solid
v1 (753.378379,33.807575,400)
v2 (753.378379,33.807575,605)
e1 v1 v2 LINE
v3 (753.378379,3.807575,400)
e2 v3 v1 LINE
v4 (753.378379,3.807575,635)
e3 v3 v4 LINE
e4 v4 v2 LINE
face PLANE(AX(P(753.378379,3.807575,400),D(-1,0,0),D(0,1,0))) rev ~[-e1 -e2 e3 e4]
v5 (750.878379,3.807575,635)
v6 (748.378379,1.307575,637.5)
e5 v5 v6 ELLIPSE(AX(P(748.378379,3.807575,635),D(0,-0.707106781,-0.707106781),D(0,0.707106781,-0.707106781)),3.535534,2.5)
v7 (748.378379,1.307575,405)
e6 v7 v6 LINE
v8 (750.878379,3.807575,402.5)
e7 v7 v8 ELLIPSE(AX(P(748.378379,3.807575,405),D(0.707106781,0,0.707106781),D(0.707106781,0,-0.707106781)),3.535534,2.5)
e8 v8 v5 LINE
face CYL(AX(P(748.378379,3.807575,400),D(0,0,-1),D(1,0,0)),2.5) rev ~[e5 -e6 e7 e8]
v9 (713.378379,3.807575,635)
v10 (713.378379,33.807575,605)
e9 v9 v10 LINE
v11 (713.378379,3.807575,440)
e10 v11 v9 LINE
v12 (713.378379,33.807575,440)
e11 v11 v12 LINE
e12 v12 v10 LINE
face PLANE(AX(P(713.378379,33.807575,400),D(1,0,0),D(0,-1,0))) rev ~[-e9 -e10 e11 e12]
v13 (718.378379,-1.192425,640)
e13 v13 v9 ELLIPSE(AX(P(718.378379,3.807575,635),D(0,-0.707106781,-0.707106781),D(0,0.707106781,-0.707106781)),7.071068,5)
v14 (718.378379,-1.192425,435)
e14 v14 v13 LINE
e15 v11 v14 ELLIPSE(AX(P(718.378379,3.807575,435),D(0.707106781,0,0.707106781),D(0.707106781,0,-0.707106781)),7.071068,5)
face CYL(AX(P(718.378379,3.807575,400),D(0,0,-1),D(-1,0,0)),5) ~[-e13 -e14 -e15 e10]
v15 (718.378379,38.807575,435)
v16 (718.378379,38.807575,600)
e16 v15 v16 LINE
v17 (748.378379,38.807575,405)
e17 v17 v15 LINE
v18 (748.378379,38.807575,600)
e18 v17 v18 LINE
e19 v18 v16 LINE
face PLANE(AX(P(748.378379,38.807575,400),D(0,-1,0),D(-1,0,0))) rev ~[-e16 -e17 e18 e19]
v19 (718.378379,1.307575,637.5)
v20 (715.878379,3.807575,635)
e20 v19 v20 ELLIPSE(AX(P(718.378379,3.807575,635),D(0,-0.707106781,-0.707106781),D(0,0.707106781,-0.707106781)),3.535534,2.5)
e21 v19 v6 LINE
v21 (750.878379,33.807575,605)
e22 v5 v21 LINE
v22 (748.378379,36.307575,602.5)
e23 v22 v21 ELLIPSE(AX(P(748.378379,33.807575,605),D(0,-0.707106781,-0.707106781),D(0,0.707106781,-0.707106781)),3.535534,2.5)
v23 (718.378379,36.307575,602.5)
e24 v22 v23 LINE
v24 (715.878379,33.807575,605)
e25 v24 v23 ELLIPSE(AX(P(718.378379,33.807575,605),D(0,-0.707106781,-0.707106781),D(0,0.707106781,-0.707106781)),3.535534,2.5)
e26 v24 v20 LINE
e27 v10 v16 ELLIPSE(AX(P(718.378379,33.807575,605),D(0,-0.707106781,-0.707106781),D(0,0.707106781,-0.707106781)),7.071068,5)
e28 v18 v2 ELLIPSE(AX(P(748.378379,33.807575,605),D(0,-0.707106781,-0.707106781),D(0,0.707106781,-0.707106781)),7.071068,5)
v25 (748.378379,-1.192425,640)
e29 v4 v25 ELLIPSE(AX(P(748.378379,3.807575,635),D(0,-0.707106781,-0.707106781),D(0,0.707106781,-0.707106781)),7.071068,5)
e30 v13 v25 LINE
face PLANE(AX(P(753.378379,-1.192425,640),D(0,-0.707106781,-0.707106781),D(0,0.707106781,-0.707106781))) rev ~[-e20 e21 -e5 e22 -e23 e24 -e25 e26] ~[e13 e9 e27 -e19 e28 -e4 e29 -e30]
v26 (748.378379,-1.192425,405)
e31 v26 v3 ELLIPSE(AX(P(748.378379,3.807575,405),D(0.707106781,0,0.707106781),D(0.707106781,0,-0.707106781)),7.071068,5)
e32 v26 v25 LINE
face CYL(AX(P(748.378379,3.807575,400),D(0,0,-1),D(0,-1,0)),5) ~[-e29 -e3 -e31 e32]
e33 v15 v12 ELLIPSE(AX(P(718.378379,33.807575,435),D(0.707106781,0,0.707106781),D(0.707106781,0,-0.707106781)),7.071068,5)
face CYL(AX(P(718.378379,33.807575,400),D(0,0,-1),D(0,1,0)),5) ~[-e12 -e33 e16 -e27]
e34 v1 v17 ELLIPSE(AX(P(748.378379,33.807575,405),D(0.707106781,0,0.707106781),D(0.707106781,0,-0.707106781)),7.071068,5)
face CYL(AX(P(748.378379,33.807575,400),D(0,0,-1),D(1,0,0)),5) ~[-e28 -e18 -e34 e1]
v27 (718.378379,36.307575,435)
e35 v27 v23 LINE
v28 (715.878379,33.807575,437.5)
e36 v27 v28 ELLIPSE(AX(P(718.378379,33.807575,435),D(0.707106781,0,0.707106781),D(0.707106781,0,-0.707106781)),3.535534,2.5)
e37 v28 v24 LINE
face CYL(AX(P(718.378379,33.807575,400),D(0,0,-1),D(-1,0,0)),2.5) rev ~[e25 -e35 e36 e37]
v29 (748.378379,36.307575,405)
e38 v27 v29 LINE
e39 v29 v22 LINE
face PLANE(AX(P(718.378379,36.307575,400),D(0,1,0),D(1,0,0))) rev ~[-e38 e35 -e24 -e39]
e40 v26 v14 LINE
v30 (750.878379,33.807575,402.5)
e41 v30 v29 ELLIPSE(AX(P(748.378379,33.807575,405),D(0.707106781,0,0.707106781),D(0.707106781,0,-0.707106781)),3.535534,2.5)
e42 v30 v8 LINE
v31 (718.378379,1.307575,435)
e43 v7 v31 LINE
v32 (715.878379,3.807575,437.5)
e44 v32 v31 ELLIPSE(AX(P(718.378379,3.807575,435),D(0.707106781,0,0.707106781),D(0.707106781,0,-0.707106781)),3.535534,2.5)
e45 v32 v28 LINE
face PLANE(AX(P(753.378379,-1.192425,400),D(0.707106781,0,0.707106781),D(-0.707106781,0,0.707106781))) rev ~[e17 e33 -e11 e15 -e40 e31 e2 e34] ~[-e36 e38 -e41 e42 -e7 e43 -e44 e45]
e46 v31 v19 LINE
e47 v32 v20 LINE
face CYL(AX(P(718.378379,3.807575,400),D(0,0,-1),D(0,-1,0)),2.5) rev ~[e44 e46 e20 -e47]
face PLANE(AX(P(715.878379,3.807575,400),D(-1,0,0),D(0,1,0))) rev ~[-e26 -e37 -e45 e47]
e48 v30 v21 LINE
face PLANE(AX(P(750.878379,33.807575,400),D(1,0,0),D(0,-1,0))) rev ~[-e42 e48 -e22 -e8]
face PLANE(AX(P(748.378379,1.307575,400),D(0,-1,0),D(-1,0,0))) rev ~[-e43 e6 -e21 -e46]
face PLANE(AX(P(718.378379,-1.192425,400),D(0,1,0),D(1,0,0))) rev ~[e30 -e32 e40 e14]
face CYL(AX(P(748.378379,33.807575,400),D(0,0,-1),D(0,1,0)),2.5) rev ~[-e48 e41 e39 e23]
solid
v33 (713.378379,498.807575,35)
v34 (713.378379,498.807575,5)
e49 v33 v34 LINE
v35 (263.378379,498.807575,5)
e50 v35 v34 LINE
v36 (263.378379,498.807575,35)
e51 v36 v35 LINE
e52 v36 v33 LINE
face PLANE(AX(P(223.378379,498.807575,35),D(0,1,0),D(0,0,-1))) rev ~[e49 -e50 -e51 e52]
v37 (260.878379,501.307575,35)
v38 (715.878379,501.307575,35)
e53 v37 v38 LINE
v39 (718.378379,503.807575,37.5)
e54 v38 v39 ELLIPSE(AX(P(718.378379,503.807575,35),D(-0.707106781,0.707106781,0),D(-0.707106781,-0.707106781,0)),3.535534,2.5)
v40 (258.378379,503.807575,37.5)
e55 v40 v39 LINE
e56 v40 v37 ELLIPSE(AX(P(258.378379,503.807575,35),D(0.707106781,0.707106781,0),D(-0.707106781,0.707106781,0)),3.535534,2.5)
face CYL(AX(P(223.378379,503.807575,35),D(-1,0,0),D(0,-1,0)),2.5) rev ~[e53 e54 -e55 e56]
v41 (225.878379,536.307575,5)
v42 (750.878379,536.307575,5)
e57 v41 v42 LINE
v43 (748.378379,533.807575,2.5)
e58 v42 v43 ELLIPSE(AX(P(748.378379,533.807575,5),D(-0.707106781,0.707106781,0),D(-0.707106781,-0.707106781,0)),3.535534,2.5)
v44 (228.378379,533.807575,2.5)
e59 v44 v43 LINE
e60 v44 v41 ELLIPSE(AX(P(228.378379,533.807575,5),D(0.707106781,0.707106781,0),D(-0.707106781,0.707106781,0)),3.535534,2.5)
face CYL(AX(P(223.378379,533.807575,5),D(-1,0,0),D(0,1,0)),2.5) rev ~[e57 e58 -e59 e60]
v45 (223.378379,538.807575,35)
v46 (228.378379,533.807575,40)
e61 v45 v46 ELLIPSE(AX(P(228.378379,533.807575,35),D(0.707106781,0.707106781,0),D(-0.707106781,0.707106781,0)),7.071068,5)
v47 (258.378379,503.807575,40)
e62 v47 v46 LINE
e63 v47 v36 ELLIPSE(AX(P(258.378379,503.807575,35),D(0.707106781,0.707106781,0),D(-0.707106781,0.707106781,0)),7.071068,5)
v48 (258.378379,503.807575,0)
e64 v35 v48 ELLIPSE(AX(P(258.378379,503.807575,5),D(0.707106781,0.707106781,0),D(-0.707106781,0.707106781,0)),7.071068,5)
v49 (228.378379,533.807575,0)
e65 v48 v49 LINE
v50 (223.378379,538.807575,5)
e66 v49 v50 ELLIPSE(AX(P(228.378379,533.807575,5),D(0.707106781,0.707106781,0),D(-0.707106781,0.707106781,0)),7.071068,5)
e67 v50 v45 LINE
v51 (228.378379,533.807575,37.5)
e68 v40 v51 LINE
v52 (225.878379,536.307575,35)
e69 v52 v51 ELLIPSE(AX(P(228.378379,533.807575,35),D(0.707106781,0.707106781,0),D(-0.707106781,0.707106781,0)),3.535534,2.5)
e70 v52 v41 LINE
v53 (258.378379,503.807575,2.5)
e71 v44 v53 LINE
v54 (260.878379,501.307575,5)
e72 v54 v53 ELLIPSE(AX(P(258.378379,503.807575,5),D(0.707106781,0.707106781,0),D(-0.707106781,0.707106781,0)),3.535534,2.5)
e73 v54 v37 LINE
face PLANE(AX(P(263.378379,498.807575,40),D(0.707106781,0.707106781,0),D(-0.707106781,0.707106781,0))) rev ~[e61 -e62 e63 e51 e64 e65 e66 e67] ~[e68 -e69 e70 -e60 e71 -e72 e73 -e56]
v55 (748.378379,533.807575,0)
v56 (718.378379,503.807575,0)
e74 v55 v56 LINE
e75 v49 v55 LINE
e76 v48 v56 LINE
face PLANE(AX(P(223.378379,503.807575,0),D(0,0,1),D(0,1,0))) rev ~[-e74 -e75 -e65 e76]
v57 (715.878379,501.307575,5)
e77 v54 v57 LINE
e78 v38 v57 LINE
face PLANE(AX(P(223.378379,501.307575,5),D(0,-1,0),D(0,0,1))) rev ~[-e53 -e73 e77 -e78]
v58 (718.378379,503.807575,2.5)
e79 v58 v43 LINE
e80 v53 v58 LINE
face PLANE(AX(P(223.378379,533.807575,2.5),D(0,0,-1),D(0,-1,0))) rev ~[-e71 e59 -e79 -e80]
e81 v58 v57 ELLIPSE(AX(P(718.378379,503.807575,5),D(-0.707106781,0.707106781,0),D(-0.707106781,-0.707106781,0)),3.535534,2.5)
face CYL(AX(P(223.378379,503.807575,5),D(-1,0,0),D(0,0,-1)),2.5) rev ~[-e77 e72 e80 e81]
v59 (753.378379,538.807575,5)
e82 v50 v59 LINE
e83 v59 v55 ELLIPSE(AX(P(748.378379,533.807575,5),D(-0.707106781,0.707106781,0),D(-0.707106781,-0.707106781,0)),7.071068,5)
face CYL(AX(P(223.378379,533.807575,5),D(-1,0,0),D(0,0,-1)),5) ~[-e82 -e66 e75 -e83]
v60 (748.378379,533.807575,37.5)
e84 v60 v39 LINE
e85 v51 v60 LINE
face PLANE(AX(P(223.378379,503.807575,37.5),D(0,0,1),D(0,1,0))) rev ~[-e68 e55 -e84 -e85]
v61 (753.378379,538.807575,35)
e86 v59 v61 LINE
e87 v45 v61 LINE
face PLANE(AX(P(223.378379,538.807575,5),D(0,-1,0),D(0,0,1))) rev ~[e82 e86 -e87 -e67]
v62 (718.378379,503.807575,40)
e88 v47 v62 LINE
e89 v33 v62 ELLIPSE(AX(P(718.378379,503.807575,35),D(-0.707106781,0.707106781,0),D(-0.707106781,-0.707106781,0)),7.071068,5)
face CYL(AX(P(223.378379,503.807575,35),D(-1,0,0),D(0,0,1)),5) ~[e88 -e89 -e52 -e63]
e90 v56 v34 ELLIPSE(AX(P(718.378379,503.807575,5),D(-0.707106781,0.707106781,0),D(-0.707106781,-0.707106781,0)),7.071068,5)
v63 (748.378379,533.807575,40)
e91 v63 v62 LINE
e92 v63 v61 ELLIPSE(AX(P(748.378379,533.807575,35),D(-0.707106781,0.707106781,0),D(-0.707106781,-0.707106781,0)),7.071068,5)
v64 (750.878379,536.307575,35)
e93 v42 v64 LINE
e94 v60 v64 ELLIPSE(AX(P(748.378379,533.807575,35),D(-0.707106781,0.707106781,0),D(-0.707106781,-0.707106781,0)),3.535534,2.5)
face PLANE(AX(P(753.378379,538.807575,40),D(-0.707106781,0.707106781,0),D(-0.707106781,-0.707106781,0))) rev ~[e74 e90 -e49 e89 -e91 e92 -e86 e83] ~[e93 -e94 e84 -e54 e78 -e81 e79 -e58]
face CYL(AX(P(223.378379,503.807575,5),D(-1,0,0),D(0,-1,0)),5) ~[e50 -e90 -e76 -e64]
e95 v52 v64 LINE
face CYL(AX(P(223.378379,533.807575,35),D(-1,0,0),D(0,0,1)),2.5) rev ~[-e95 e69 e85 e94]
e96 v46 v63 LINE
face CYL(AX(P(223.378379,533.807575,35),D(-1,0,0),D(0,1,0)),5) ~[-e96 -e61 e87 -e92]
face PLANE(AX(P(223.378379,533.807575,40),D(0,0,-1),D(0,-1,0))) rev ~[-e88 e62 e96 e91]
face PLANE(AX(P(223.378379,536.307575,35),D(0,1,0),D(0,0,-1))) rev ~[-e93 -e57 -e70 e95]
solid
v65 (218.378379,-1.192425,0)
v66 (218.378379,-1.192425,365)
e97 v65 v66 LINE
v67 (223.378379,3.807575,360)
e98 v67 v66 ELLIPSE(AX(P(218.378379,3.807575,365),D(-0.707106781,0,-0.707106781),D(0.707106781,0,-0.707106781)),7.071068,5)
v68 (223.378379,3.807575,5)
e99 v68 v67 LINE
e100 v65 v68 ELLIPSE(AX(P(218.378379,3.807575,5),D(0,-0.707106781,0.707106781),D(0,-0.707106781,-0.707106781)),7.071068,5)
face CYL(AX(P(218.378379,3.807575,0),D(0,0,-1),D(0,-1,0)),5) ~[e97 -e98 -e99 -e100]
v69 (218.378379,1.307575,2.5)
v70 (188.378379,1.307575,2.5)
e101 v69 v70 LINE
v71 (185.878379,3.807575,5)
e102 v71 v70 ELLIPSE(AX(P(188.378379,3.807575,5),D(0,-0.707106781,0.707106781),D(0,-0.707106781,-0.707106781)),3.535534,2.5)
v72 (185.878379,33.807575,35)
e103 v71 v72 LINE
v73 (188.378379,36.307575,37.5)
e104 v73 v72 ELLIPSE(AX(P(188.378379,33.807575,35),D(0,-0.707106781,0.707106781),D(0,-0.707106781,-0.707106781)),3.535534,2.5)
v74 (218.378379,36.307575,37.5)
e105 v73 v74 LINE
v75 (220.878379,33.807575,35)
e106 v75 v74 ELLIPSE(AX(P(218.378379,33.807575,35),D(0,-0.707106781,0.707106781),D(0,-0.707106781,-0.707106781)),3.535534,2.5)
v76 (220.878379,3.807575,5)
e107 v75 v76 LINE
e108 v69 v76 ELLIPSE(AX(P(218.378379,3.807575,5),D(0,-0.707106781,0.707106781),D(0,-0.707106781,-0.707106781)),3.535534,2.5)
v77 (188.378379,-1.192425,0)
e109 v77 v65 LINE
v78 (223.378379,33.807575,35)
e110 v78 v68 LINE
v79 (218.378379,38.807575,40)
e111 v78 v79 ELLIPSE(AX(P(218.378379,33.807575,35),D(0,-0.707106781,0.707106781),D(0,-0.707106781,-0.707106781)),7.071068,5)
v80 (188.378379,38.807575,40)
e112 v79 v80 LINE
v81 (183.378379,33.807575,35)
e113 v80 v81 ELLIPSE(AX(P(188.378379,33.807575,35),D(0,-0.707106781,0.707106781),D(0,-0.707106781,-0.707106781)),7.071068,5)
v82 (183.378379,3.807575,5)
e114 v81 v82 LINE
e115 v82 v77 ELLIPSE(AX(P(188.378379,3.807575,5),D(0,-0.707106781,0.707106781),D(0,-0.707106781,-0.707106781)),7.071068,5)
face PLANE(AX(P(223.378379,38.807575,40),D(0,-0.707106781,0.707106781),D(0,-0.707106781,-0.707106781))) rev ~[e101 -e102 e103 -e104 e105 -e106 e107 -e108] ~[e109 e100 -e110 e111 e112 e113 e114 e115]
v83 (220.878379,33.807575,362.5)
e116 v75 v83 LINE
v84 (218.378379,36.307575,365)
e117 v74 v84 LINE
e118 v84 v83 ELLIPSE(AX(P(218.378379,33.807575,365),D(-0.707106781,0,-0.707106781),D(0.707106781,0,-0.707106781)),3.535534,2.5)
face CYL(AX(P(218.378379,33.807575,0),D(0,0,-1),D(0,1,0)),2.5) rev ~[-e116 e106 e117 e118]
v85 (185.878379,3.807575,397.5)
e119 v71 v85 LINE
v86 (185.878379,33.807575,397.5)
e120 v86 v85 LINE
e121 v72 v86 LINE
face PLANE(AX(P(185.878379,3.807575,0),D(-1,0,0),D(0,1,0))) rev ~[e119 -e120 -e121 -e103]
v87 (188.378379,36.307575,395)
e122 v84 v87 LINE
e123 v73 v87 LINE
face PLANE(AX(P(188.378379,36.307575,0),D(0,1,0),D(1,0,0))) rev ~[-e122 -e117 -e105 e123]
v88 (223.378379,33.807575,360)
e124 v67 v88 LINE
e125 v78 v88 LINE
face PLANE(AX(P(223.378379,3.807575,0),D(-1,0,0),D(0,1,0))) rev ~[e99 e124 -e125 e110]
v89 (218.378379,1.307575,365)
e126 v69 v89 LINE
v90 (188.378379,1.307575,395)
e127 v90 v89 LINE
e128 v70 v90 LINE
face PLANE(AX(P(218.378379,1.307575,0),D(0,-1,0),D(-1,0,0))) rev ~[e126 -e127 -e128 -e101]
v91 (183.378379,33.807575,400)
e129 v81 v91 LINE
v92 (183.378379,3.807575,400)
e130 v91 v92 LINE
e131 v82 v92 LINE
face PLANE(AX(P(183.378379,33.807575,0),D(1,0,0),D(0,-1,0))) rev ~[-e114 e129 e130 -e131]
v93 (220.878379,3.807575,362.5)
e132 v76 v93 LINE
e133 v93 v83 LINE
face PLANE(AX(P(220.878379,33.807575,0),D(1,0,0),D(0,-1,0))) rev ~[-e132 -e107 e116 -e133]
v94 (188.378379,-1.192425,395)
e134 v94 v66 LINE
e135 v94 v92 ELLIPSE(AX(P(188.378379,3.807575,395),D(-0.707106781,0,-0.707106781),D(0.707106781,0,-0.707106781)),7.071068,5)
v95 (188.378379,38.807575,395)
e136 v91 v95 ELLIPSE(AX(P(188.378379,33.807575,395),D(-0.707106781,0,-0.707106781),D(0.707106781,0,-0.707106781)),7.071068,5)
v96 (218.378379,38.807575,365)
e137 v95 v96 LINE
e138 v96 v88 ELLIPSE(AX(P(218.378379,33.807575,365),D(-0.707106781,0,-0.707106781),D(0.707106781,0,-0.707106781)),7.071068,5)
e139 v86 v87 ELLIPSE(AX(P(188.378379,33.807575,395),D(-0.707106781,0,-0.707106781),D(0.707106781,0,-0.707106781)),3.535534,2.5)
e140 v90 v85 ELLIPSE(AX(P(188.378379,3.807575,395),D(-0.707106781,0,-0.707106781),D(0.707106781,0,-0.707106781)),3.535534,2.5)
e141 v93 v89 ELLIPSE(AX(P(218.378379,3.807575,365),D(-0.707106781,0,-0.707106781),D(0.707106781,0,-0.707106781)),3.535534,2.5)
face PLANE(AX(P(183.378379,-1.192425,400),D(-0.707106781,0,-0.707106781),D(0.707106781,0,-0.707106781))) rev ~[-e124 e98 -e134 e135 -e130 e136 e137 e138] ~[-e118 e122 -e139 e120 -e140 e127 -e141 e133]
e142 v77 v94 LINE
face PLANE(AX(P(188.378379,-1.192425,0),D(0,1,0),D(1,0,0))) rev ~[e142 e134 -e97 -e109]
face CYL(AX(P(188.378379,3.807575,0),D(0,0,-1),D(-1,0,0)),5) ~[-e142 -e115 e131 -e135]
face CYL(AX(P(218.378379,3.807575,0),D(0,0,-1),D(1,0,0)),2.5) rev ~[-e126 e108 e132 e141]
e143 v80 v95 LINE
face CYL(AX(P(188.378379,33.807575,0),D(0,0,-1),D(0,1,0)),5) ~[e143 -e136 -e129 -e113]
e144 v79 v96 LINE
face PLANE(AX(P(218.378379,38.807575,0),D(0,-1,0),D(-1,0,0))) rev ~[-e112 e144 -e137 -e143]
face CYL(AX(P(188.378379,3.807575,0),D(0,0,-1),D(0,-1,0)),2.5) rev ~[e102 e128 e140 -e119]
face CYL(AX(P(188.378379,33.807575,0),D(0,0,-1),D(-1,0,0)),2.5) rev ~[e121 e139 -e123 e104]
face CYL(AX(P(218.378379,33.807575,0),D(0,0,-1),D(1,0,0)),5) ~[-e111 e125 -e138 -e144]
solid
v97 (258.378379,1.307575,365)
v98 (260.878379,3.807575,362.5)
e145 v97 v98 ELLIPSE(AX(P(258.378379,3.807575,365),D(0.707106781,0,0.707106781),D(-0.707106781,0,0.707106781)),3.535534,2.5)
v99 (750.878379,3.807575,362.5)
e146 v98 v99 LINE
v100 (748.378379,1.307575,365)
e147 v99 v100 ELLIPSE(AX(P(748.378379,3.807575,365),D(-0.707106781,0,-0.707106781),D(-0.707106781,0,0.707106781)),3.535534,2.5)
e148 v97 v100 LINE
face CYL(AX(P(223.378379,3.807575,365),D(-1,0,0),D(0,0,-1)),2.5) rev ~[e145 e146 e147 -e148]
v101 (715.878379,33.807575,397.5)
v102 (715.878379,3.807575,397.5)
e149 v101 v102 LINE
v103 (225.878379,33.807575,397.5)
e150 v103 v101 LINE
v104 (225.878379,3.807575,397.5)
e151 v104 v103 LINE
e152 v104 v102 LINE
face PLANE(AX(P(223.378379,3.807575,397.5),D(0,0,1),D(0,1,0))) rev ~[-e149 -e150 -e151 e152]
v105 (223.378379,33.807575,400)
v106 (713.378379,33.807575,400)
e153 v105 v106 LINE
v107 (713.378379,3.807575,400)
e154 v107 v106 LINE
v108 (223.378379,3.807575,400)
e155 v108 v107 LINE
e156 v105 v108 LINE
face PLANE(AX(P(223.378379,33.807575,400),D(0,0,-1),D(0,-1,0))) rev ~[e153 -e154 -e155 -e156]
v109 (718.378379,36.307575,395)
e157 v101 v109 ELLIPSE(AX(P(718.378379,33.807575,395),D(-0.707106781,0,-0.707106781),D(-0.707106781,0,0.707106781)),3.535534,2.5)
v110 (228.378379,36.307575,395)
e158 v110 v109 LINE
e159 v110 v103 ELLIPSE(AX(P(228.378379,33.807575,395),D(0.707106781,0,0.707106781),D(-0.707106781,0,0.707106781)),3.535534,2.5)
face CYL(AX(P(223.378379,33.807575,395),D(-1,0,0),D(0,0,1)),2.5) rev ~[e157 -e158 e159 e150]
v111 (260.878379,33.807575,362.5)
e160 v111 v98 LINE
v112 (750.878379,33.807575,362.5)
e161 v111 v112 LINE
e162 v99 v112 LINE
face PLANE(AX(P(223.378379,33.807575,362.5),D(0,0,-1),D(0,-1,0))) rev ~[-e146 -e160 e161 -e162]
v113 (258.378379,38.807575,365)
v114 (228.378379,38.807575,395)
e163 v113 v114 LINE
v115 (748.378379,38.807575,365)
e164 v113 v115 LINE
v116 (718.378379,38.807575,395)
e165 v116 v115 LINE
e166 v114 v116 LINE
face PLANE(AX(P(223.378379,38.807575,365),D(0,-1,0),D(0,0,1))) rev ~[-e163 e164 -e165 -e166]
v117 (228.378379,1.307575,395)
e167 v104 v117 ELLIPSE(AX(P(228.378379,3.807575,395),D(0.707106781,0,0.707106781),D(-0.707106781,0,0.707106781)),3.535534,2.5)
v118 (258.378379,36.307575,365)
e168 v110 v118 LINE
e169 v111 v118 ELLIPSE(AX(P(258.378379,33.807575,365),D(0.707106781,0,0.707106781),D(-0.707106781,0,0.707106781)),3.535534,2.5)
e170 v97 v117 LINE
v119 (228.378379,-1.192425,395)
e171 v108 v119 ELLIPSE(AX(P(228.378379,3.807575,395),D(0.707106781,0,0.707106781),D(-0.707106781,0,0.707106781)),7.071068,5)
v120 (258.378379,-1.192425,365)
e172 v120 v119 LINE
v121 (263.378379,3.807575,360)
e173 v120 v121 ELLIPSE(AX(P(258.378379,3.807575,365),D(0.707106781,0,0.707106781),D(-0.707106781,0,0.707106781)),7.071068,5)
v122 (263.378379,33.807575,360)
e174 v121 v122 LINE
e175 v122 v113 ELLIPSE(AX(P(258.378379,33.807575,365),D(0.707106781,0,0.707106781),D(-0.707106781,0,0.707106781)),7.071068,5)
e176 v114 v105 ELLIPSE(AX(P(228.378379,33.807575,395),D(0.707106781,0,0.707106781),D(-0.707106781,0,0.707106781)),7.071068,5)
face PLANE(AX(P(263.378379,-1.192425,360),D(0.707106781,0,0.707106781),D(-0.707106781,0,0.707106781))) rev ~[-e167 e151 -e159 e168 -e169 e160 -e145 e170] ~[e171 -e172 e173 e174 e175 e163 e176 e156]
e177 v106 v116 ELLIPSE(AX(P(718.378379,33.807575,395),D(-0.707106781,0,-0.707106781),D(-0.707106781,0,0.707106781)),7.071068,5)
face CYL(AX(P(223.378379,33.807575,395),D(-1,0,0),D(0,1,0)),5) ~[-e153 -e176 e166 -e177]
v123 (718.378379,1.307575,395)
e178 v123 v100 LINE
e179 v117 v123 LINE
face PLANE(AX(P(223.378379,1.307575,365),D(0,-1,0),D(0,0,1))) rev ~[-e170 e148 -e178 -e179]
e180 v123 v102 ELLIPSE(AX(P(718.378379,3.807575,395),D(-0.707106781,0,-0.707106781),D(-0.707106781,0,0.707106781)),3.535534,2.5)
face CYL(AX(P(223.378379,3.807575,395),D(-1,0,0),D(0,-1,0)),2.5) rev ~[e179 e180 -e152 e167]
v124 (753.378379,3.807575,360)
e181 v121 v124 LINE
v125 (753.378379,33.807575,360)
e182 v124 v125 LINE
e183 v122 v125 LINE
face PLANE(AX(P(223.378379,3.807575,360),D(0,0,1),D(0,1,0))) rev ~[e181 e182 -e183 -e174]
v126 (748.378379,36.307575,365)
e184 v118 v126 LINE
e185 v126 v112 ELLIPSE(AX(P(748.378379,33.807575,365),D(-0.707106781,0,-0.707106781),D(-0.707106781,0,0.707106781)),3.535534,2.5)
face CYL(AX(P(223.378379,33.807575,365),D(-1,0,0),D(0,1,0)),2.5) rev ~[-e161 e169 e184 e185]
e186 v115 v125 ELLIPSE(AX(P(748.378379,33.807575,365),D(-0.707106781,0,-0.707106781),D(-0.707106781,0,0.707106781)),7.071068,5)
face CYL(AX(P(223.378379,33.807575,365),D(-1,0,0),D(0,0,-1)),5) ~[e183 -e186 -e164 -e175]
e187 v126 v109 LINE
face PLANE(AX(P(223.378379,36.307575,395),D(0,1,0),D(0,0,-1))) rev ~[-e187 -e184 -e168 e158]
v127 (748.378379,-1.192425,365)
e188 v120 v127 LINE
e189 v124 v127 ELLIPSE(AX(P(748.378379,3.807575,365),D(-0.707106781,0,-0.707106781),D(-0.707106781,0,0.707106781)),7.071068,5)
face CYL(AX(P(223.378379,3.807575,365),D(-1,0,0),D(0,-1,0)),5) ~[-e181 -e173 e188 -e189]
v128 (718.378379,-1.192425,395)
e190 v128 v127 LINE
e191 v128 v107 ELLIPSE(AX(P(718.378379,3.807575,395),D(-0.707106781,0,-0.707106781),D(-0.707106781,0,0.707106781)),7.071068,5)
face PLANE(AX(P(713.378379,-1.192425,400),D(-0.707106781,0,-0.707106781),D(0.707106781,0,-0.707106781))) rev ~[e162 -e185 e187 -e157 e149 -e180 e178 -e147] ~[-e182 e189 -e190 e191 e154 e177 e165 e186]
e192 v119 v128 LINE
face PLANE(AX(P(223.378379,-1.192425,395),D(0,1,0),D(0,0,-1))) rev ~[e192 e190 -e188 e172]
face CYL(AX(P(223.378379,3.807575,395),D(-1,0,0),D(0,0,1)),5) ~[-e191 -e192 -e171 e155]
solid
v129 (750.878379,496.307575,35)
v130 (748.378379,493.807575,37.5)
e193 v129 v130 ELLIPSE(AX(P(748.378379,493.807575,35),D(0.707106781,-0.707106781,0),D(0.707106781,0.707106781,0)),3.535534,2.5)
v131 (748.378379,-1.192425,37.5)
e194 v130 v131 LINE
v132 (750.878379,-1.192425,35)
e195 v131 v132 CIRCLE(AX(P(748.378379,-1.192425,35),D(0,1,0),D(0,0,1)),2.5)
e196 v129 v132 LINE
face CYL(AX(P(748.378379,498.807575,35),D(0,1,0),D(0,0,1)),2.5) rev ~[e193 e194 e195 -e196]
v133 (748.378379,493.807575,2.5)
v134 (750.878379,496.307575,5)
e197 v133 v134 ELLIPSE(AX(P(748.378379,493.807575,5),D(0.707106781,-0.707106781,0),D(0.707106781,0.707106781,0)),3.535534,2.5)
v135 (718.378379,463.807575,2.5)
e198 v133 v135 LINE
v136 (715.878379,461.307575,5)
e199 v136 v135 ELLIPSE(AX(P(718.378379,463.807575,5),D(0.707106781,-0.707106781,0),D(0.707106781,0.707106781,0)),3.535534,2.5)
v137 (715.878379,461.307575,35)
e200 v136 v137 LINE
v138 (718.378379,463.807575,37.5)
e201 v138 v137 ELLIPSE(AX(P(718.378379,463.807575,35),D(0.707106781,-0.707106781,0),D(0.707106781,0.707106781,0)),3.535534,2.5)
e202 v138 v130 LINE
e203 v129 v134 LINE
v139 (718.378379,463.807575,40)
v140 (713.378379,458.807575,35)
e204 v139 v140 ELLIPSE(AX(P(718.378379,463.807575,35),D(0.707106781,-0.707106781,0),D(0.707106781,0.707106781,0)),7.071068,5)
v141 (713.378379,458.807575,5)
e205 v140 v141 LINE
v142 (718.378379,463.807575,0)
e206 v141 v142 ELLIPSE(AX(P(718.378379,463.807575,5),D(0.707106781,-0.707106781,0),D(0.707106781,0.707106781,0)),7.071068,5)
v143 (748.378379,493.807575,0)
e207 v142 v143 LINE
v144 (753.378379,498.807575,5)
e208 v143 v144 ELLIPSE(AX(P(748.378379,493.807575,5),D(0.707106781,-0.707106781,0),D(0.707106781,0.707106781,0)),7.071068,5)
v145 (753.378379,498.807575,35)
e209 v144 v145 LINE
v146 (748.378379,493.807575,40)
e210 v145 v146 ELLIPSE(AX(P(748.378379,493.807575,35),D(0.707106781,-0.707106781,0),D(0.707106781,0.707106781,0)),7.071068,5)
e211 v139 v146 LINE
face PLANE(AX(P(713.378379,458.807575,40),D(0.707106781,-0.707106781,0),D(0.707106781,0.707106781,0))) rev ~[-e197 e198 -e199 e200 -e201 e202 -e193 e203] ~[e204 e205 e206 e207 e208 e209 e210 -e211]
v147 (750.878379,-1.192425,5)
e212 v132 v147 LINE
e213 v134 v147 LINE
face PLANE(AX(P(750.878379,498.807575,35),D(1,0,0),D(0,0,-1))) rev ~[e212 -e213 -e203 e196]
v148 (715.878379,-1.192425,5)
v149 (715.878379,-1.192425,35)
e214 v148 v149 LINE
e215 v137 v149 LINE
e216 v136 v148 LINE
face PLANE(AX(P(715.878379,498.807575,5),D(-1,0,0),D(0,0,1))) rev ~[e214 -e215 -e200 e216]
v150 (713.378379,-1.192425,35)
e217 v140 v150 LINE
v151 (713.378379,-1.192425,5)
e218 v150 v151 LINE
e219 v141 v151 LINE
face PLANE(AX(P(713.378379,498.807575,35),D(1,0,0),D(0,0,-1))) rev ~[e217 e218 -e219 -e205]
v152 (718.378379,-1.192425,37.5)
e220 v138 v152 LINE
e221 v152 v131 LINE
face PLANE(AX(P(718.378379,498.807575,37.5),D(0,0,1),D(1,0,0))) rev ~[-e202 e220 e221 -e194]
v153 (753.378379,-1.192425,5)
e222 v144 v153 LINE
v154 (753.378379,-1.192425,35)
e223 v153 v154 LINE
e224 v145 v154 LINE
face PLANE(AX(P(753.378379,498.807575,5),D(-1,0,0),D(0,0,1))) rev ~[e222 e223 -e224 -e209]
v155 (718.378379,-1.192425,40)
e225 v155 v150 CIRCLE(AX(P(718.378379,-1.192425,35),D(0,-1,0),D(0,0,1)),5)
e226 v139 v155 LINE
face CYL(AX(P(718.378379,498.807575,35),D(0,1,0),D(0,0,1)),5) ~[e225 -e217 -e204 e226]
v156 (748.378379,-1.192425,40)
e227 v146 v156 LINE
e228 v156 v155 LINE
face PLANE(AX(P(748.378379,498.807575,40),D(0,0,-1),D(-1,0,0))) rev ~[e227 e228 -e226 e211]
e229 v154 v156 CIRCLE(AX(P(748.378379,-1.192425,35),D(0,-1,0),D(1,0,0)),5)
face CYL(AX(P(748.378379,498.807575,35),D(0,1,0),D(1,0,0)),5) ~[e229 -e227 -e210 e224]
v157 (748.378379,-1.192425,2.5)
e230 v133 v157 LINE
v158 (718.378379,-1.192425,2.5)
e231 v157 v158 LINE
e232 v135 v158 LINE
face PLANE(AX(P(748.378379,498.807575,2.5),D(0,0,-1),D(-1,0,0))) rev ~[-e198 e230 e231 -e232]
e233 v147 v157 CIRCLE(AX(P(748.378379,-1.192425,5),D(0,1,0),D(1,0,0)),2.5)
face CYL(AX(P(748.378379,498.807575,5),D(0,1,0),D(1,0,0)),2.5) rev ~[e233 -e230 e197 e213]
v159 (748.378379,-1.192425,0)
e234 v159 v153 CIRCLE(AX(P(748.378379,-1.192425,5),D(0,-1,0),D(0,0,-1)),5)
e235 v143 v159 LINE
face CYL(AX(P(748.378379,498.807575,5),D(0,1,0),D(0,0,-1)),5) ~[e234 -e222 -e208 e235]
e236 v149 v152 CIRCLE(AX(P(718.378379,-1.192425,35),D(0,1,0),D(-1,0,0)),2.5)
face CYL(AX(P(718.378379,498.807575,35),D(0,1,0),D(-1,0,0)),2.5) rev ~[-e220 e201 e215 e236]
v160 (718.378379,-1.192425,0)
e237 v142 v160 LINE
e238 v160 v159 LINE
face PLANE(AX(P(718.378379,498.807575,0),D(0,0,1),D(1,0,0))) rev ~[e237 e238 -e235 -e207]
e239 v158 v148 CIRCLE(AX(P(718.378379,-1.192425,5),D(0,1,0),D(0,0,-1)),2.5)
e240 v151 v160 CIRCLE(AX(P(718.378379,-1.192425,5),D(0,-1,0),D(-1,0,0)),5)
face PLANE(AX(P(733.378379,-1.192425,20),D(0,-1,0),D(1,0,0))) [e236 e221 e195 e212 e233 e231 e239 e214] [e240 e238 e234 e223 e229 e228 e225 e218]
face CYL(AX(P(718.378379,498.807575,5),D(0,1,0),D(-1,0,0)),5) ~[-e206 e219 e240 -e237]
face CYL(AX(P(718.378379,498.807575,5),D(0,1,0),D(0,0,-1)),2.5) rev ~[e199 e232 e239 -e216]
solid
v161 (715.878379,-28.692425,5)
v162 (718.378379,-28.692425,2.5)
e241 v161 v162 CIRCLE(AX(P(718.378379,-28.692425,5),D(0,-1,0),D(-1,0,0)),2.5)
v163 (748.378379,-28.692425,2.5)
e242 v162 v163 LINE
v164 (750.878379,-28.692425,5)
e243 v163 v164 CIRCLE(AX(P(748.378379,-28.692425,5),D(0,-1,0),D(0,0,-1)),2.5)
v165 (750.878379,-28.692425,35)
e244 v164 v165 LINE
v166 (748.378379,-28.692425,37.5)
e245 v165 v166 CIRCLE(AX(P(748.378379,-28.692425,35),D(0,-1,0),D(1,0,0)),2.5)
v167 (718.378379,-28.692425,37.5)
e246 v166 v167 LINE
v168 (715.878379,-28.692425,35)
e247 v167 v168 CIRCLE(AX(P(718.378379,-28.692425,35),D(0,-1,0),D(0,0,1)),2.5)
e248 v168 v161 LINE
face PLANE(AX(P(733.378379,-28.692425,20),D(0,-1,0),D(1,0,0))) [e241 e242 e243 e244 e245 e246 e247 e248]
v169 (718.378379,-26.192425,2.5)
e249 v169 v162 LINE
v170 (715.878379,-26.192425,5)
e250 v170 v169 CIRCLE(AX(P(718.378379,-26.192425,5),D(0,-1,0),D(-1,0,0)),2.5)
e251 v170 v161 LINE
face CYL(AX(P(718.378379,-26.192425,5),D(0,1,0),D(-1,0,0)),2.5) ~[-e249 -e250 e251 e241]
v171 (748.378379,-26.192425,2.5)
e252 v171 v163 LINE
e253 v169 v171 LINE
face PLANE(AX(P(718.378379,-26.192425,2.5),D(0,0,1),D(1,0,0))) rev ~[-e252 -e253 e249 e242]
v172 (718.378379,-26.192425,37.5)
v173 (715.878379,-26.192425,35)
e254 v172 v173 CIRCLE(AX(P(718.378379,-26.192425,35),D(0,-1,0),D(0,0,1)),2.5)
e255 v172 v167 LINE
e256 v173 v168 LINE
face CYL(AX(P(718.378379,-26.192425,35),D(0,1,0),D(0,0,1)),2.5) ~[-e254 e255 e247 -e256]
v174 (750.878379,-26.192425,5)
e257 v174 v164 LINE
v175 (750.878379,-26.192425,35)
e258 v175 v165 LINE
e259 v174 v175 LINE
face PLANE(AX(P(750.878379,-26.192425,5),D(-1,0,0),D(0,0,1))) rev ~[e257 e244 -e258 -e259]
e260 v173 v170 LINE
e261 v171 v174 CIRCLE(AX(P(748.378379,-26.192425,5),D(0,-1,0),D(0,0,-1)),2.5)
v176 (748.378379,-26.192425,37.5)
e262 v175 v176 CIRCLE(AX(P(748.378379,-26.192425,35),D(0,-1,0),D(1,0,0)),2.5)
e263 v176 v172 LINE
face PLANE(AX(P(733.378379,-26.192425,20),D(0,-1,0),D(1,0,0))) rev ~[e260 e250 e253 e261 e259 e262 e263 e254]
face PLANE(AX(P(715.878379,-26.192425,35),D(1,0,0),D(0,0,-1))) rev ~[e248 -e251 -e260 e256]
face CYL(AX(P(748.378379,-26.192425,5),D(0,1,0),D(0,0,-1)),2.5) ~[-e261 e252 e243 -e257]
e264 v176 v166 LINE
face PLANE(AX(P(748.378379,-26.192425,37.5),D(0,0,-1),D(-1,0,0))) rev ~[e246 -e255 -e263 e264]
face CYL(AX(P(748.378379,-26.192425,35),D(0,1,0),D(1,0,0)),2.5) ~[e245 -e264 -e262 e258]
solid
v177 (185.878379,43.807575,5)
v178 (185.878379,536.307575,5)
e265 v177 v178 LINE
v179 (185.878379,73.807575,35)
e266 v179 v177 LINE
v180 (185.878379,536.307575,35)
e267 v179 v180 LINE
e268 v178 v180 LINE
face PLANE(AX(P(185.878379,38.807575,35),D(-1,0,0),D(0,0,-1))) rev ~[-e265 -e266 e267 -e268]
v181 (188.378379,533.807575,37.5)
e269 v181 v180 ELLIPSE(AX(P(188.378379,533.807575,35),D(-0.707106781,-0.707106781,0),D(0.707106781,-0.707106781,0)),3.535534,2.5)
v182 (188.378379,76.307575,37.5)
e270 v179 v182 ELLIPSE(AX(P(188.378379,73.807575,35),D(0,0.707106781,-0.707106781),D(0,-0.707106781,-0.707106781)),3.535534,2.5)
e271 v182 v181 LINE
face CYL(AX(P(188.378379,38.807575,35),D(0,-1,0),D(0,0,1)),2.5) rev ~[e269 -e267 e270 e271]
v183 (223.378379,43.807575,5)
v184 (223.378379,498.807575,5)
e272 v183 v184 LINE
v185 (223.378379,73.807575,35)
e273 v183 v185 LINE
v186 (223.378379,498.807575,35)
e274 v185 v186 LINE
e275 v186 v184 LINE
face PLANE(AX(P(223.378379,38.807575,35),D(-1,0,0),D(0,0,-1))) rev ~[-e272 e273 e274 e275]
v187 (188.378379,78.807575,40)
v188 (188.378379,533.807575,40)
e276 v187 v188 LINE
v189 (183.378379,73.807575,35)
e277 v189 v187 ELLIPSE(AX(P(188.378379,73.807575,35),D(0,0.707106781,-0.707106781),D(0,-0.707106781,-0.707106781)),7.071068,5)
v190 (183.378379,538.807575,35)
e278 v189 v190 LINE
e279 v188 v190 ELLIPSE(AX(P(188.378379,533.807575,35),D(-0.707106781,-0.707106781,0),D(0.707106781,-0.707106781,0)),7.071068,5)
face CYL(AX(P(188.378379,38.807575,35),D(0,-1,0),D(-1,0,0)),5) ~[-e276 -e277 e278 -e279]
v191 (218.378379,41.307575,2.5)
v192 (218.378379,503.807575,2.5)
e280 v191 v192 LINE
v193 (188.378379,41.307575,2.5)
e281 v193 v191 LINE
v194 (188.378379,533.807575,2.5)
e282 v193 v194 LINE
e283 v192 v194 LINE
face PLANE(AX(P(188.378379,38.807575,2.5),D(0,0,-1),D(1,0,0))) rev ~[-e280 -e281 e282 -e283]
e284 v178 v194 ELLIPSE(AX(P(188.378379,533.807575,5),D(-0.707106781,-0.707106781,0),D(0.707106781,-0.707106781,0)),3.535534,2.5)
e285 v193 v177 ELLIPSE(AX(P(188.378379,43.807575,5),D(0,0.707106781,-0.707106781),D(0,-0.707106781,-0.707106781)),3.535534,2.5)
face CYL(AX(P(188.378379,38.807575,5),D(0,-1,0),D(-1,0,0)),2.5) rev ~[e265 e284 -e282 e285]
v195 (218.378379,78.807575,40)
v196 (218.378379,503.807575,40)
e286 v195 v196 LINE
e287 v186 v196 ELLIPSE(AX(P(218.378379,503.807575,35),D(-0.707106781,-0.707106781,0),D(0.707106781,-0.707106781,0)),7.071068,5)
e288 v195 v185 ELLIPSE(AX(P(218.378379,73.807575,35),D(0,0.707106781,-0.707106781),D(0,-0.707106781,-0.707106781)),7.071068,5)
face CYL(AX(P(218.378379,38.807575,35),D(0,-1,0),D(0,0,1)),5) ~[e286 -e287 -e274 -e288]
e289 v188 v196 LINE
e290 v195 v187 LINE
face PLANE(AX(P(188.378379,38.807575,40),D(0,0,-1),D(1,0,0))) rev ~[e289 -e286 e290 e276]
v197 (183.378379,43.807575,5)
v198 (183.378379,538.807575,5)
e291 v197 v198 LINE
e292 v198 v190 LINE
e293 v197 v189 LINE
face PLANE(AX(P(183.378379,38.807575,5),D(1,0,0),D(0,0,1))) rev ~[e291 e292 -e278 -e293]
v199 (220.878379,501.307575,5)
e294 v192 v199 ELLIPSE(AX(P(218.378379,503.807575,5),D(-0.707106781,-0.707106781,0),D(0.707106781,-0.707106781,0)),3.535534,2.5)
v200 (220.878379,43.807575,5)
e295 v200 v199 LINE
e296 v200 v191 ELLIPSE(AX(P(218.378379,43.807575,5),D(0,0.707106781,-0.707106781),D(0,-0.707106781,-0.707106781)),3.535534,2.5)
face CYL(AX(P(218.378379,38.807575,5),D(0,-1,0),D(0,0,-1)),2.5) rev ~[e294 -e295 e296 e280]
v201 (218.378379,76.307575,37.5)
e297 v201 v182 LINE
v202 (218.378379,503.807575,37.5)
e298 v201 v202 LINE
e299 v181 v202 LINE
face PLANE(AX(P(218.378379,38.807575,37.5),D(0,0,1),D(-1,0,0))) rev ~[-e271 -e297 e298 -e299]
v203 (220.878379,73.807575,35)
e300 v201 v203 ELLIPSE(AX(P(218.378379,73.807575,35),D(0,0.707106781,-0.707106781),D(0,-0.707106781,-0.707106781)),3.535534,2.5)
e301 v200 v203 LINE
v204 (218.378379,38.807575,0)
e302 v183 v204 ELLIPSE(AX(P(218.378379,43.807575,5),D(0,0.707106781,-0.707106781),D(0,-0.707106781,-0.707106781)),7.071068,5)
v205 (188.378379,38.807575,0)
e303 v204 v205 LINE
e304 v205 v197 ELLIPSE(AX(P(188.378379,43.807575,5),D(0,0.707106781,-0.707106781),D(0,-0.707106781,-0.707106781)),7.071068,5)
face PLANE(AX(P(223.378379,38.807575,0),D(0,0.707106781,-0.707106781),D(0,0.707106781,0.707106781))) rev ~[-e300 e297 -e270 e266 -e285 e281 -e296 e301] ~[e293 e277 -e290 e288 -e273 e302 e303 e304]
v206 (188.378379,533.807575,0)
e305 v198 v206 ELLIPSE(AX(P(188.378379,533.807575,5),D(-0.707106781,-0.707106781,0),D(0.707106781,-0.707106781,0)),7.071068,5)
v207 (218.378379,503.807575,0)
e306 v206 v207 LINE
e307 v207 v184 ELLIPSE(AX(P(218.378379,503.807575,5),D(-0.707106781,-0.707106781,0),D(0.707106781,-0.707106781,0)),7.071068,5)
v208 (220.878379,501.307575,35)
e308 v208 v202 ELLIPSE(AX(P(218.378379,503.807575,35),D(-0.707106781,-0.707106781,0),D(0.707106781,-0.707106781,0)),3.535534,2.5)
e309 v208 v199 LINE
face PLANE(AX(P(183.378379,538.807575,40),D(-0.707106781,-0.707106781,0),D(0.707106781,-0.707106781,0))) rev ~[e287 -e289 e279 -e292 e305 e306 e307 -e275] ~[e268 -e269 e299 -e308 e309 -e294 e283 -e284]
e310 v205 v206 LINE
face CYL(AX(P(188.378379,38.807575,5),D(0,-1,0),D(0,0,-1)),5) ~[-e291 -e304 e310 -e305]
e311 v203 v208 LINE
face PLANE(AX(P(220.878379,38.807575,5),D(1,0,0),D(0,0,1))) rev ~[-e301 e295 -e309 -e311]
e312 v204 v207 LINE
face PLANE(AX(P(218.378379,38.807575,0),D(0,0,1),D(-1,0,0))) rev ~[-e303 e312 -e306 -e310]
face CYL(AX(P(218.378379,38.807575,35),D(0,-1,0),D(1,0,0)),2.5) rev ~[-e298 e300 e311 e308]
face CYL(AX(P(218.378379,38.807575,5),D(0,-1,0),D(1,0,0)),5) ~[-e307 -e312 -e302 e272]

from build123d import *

# Parameters (mm, degrees)
F1_DEPTH  = 500
F3_DEPTH  = 40.001
F5_DEPTH  = 530
F7_DEPTH  = 264.2357556353
F10_DEPTH = 259.001
F14_DEPTH = 400
F16_DEPTH = 455.4894368181
F18_DEPTH = 531.1934248934
F20_DEPTH = 530
F22_DEPTH = 531.1934248934
F24_DEPTH = 240
F26_DEPTH = 531.1934248934
F28_DEPTH = 985.4894368181
F30_DEPTH = 500
F32_DEPTH = 985.4894368181
F34_DEPTH = 640.001
F37_DEPTH = 500
F39_DEPTH = 40.001
F41_DEPTH = 40.001
F43_DEPTH = 530
F45_DEPTH = 40.001
F47_DEPTH = 500
F49_DEPTH = 40.001
F52_DEPTH = 2.5


with BuildPart() as f1:
    # F0 (on Front) → F1 (new body)
    with BuildSketch(Plane.XZ):
        with BuildLine():
            ThreePointArc((0, 5), (1.4644660941, 1.4644660941), (5, 0))
            Line((5, 0), (35, 0))
            ThreePointArc((35, 0), (38.5355339059, 1.4644660941), (40, 5))
            Line((40, 5), (40, 35))
            ThreePointArc((40, 35), (38.5355339059, 38.5355339059), (35, 40))
            Line((35, 40), (5, 40))
            ThreePointArc((5, 40), (1.4644660941, 38.5355339059), (0, 35))
            Line((0, 35), (0, 5))
        make_face()
        with BuildLine():
            ThreePointArc((2.5, 35), (3.232233047, 36.767766953), (5, 37.5))
            Line((5, 37.5), (35, 37.5))
            ThreePointArc((35, 37.5), (36.767766953, 36.767766953), (37.5, 35))
            Line((37.5, 35), (37.5, 5))
            ThreePointArc((37.5, 5), (36.767766953, 3.232233047), (35, 2.5))
            Line((35, 2.5), (5, 2.5))
            ThreePointArc((5, 2.5), (3.232233047, 3.232233047), (2.5, 5))
            Line((2.5, 5), (2.5, 35))
        make_face(mode=Mode.SUBTRACT)
    extrude(amount=-F1_DEPTH)

    # F2 (on face) → F3 (cut, through all)
    with BuildSketch(Plane.XY.offset(40)):
        Polygon((0, 460), (40, 500), (0, 500), align=None)
    extrude(amount=-F3_DEPTH, mode=Mode.SUBTRACT)


with BuildPart() as f5:
    # F4 (on Front) → F5 (new body)
    with BuildSketch(Plane.XZ):
        with BuildLine():
            ThreePointArc((-232.1100574732, 229.2347556353), (-230.6455913791, 225.6992217293), (-227.1100574732, 224.2347556353))
            Line((-227.1100574732, 224.2347556353), (-197.1100574732, 224.2347556353))
            ThreePointArc((-197.1100574732, 224.2347556353), (-193.5745235672, 225.6992217293), (-192.1100574732, 229.2347556353))
            Line((-192.1100574732, 229.2347556353), (-192.1100574732, 259.2347556353))
            ThreePointArc((-192.1100574732, 259.2347556353), (-193.5745235672, 262.7702895412), (-197.1100574732, 264.2347556353))
            Line((-197.1100574732, 264.2347556353), (-227.1100574732, 264.2347556353))
            ThreePointArc((-227.1100574732, 264.2347556353), (-230.6455913791, 262.7702895412), (-232.1100574732, 259.2347556353))
            Line((-232.1100574732, 259.2347556353), (-232.1100574732, 229.2347556353))
        make_face()
        with BuildLine():
            ThreePointArc((-229.6100574732, 259.2347556353), (-228.8778244261, 261.0025225882), (-227.1100574732, 261.7347556353))
            Line((-227.1100574732, 261.7347556353), (-197.1100574732, 261.7347556353))
            ThreePointArc((-197.1100574732, 261.7347556353), (-195.3422905202, 261.0025225882), (-194.6100574732, 259.2347556353))
            Line((-194.6100574732, 259.2347556353), (-194.6100574732, 229.2347556353))
            ThreePointArc((-194.6100574732, 229.2347556353), (-195.3422905202, 227.4669886823), (-197.1100574732, 226.7347556353))
            Line((-197.1100574732, 226.7347556353), (-227.1100574732, 226.7347556353))
            ThreePointArc((-227.1100574732, 226.7347556353), (-228.8778244261, 227.4669886823), (-229.6100574732, 229.2347556353))
            Line((-229.6100574732, 229.2347556353), (-229.6100574732, 259.2347556353))
        make_face(mode=Mode.SUBTRACT)
    extrude(amount=-F5_DEPTH)

    # F6 (on face) → F7 (cut, through all)
    with BuildSketch(Plane.XY.offset(264.2347556353)):
        Polygon((-232.1100574732, 40), (-232.1100574732, 0), (-192.1100574732, 0), align=None)
        Polygon((-192.1100574732, 530), (-232.1100574732, 530), (-232.1100574732, 490), align=None)
    extrude(amount=-F7_DEPTH, mode=Mode.SUBTRACT)


with BuildPart() as f8_1:
    # F8: copy of F1
    add(f1.part.moved(Location((-219, 0, 7))))


with BuildPart() as f10_tool:
    # F9 (on face) → F10 (new body, through all)
    with BuildSketch(Plane(origin=(-219, 0, 0), x_dir=(0, -1, 0), z_dir=(-1, 0, 0))):
        Polygon((-40, 7), (0, 7), (0, 47), align=None)
    extrude(amount=-F10_DEPTH)


with BuildPart() as f1_1:
    add(f1.part)

    # F10: cut by f10_tool
    add(f10_tool.part, mode=Mode.SUBTRACT)


with BuildPart() as f8_1_1:
    add(f8_1.part)

    # F10: cut by f10_tool
    add(f10_tool.part, mode=Mode.SUBTRACT)


with BuildPart() as f11_1:
    # F11: copy of F1
    add(f1_1.part.moved(Location((124, 2, 116))))


with BuildPart() as f14:
    # F13 (on Top) → F14 (new body)
    with BuildSketch(Plane.XY):
        with BuildLine():
            ThreePointArc((183.3783793449, 3.8075751066), (184.842845439, 0.2720412007), (188.3783793449, -1.1924248934))
            Line((188.3783793449, -1.1924248934), (218.3783793449, -1.1924248934))
            ThreePointArc((218.3783793449, -1.1924248934), (221.9139132509, 0.2720412007), (223.3783793449, 3.8075751066))
            Line((223.3783793449, 3.8075751066), (223.3783793449, 33.8075751066))
            ThreePointArc((223.3783793449, 33.8075751066), (221.9139132509, 37.3431090126), (218.3783793449, 38.8075751066))
            Line((218.3783793449, 38.8075751066), (188.3783793449, 38.8075751066))
            ThreePointArc((188.3783793449, 38.8075751066), (184.842845439, 37.3431090126), (183.3783793449, 33.8075751066))
            Line((183.3783793449, 33.8075751066), (183.3783793449, 3.8075751066))
        make_face()
        with BuildLine():
            ThreePointArc((185.8783793449, 33.8075751066), (186.610612392, 35.5753420596), (188.3783793449, 36.3075751066))
            Line((188.3783793449, 36.3075751066), (218.3783793449, 36.3075751066))
            ThreePointArc((218.3783793449, 36.3075751066), (220.1461462979, 35.5753420596), (220.8783793449, 33.8075751066))
            Line((220.8783793449, 33.8075751066), (220.8783793449, 3.8075751066))
            ThreePointArc((220.8783793449, 3.8075751066), (220.1461462979, 2.0398081537), (218.3783793449, 1.3075751066))
            Line((218.3783793449, 1.3075751066), (188.3783793449, 1.3075751066))
            ThreePointArc((188.3783793449, 1.3075751066), (186.610612392, 2.0398081537), (185.8783793449, 3.8075751066))
            Line((185.8783793449, 3.8075751066), (185.8783793449, 33.8075751066))
        make_face(mode=Mode.SUBTRACT)
    extrude(amount=F14_DEPTH)


with BuildPart() as f16_tool:
    # F15 (on face) → F16 (new body, through all)
    with BuildSketch(Plane.YZ.offset(223.3783793449)):
        Polygon((-1.1924248934, 0), (38.8075751066, 0), (38.8075751066, 40), align=None)
    extrude(amount=-F16_DEPTH)


with BuildPart() as f1_2:
    add(f1_1.part)

    # F16: cut by f16_tool
    add(f16_tool.part, mode=Mode.SUBTRACT)


with BuildPart() as f8_1_2:
    add(f8_1_1.part)

    # F16: cut by f16_tool
    add(f16_tool.part, mode=Mode.SUBTRACT)


with BuildPart() as f14_1:
    add(f14.part)

    # F16: cut by f16_tool
    add(f16_tool.part, mode=Mode.SUBTRACT)

    # F17 (on face) → F18 (cut, through all)
    with BuildSketch(Plane.XZ.offset(1.1924248934)):
        Polygon((223.3783793449, 400), (183.3783793449, 400), (223.3783793449, 360), align=None)
    extrude(amount=-F18_DEPTH, mode=Mode.SUBTRACT)


with BuildPart() as f20:
    # F19 (on face) → F20 (new body)
    with BuildSketch(Plane.YZ.offset(223.3783793449)):
        with BuildLine():
            ThreePointArc((-1.1924248934, 365), (0.2720412007, 361.4644660941), (3.8075751066, 360))
            Line((3.8075751066, 360), (33.8075751066, 360))
            ThreePointArc((33.8075751066, 360), (37.3431090126, 361.4644660941), (38.8075751066, 365))
            Line((38.8075751066, 365), (38.8075751066, 395))
            ThreePointArc((38.8075751066, 395), (37.3431090126, 398.5355339059), (33.8075751066, 400))
            Line((33.8075751066, 400), (3.8075751066, 400))
            ThreePointArc((3.8075751066, 400), (0.2720412007, 398.5355339059), (-1.1924248934, 395))
            Line((-1.1924248934, 395), (-1.1924248934, 365))
        make_face()
        with BuildLine():
            ThreePointArc((1.3075751066, 395), (2.0398081537, 396.767766953), (3.8075751066, 397.5))
            Line((3.8075751066, 397.5), (33.8075751066, 397.5))
            ThreePointArc((33.8075751066, 397.5), (35.5753420596, 396.767766953), (36.3075751066, 395))
            Line((36.3075751066, 395), (36.3075751066, 365))
            ThreePointArc((36.3075751066, 365), (35.5753420596, 363.232233047), (33.8075751066, 362.5))
            Line((33.8075751066, 362.5), (3.8075751066, 362.5))
            ThreePointArc((3.8075751066, 362.5), (2.0398081537, 363.232233047), (1.3075751066, 365))
            Line((1.3075751066, 365), (1.3075751066, 395))
        make_face(mode=Mode.SUBTRACT)
    extrude(amount=F20_DEPTH)

    # F21 (on face) → F22 (cut, through all)
    with BuildSketch(Plane.XZ.offset(1.1924248934)):
        Polygon((263.3783793449, 360), (223.3783793449, 400), (223.3783793449, 360), align=None)
        Polygon((753.3783793449, 360), (753.3783793449, 400), (713.3783793449, 400), align=None)
    extrude(amount=-F22_DEPTH, mode=Mode.SUBTRACT)


with BuildPart() as f24:
    # F23 (on face) → F24 (new body)
    with BuildSketch(Plane.XY.offset(400)):
        with BuildLine():
            ThreePointArc((713.3783793449, 3.8075751066), (714.842845439, 0.2720412007), (718.3783793449, -1.1924248934))
            Line((718.3783793449, -1.1924248934), (748.3783793449, -1.1924248934))
            ThreePointArc((748.3783793449, -1.1924248934), (751.9139132509, 0.2720412007), (753.3783793449, 3.8075751066))
            Line((753.3783793449, 3.8075751066), (753.3783793449, 33.8075751066))
            ThreePointArc((753.3783793449, 33.8075751066), (751.9139132509, 37.3431090126), (748.3783793449, 38.8075751066))
            Line((748.3783793449, 38.8075751066), (718.3783793449, 38.8075751066))
            ThreePointArc((718.3783793449, 38.8075751066), (714.842845439, 37.3431090126), (713.3783793449, 33.8075751066))
            Line((713.3783793449, 33.8075751066), (713.3783793449, 3.8075751066))
        make_face()
        with BuildLine():
            ThreePointArc((715.8783793449, 33.8075751066), (716.610612392, 35.5753420596), (718.3783793449, 36.3075751066))
            Line((718.3783793449, 36.3075751066), (748.3783793449, 36.3075751066))
            ThreePointArc((748.3783793449, 36.3075751066), (750.1461462979, 35.5753420596), (750.8783793449, 33.8075751066))
            Line((750.8783793449, 33.8075751066), (750.8783793449, 3.8075751066))
            ThreePointArc((750.8783793449, 3.8075751066), (750.1461462979, 2.0398081537), (748.3783793449, 1.3075751066))
            Line((748.3783793449, 1.3075751066), (718.3783793449, 1.3075751066))
            ThreePointArc((718.3783793449, 1.3075751066), (716.610612392, 2.0398081537), (715.8783793449, 3.8075751066))
            Line((715.8783793449, 3.8075751066), (715.8783793449, 33.8075751066))
        make_face(mode=Mode.SUBTRACT)
    extrude(amount=F24_DEPTH)

    # F25 (on face) → F26 (cut, through all)
    with BuildSketch(Plane.XZ.offset(1.1924248934)):
        Polygon((713.3783793449, 400), (753.3783793449, 400), (713.3783793449, 440), align=None)
    extrude(amount=-F26_DEPTH, mode=Mode.SUBTRACT)

    # F27 (on face) → F28 (cut, through all)
    with BuildSketch(Plane.YZ.offset(753.3783793449)):
        Polygon((38.8075751066, 640), (-1.1924248934, 640), (38.8075751066, 600), align=None)
    extrude(amount=-F28_DEPTH, mode=Mode.SUBTRACT)


with BuildPart() as f30:
    # F29 (on face) → F30 (new body)
    with BuildSketch(Plane(origin=(0, 38.8075751066, 0), x_dir=(-1, 0, 0), z_dir=(0, 1, 0))):
        with BuildLine():
            ThreePointArc((-753.3783793449, 605), (-751.9139132509, 601.4644660941), (-748.3783793449, 600))
            Line((-748.3783793449, 600), (-718.3783793449, 600))
            ThreePointArc((-718.3783793449, 600), (-714.842845439, 601.4644660941), (-713.3783793449, 605))
            Line((-713.3783793449, 605), (-713.3783793449, 635))
            ThreePointArc((-713.3783793449, 635), (-714.842845439, 638.5355339059), (-718.3783793449, 640))
            Line((-718.3783793449, 640), (-748.3783793449, 640))
            ThreePointArc((-748.3783793449, 640), (-751.9139132509, 638.5355339059), (-753.3783793449, 635))
            Line((-753.3783793449, 635), (-753.3783793449, 605))
        make_face()
        with BuildLine():
            ThreePointArc((-750.8783793449, 635), (-750.1461462979, 636.767766953), (-748.3783793449, 637.5))
            Line((-748.3783793449, 637.5), (-718.3783793449, 637.5))
            ThreePointArc((-718.3783793449, 637.5), (-716.610612392, 636.767766953), (-715.8783793449, 635))
            Line((-715.8783793449, 635), (-715.8783793449, 605))
            ThreePointArc((-715.8783793449, 605), (-716.610612392, 603.232233047), (-718.3783793449, 602.5))
            Line((-718.3783793449, 602.5), (-748.3783793449, 602.5))
            ThreePointArc((-748.3783793449, 602.5), (-750.1461462979, 603.232233047), (-750.8783793449, 605))
            Line((-750.8783793449, 605), (-750.8783793449, 635))
        make_face(mode=Mode.SUBTRACT)
    extrude(amount=F30_DEPTH)

    # F31 (on face) → F32 (cut, through all)
    with BuildSketch(Plane.YZ.offset(753.3783793449)):
        Polygon((78.8075751066, 600), (38.8075751066, 640), (38.8075751066, 600), align=None)
    extrude(amount=-F32_DEPTH, mode=Mode.SUBTRACT)

    # F33 (on face) → F34 (cut, through all)
    with BuildSketch(Plane.XY.offset(640)):
        Polygon((753.3783793449, 538.8075751066), (713.3783793449, 538.8075751066), (713.3783793449, 498.8075751066), align=None)
    extrude(amount=-F34_DEPTH, mode=Mode.SUBTRACT)


with BuildPart() as f37:
    # F36 (on face) → F37 (new body)
    with BuildSketch(Plane(origin=(0, 38.8075751066, 0), x_dir=(-1, 0, 0), z_dir=(0, 1, 0))):
        with BuildLine():
            ThreePointArc((-223.3783793449, 5), (-221.9139132509, 1.4644660941), (-218.3783793449, 0))
            Line((-218.3783793449, 0), (-188.3783793449, 0))
            ThreePointArc((-188.3783793449, 0), (-184.842845439, 1.4644660941), (-183.3783793449, 5))
            Line((-183.3783793449, 5), (-183.3783793449, 35))
            ThreePointArc((-183.3783793449, 35), (-184.842845439, 38.5355339059), (-188.3783793449, 40))
            Line((-188.3783793449, 40), (-218.3783793449, 40))
            ThreePointArc((-218.3783793449, 40), (-221.9139132509, 38.5355339059), (-223.3783793449, 35))
            Line((-223.3783793449, 35), (-223.3783793449, 5))
        make_face()
        with BuildLine():
            ThreePointArc((-220.8783793449, 35), (-220.1461462979, 36.767766953), (-218.3783793449, 37.5))
            Line((-218.3783793449, 37.5), (-188.3783793449, 37.5))
            ThreePointArc((-188.3783793449, 37.5), (-186.610612392, 36.767766953), (-185.8783793449, 35))
            Line((-185.8783793449, 35), (-185.8783793449, 5))
            ThreePointArc((-185.8783793449, 5), (-186.610612392, 3.232233047), (-188.3783793449, 2.5))
            Line((-188.3783793449, 2.5), (-218.3783793449, 2.5))
            ThreePointArc((-218.3783793449, 2.5), (-220.1461462979, 3.232233047), (-220.8783793449, 5))
            Line((-220.8783793449, 5), (-220.8783793449, 35))
        make_face(mode=Mode.SUBTRACT)
    extrude(amount=F37_DEPTH)

    # F38 (on face) → F39 (cut, through all)
    with BuildSketch(Plane.YZ.offset(223.3783793449)):
        Polygon((38.8075751066, 0), (78.8075751066, 40), (38.8075751066, 40), align=None)
    extrude(amount=-F39_DEPTH, mode=Mode.SUBTRACT)

    # F40 (on face) → F41 (cut, through all)
    with BuildSketch(Plane.XY.offset(40)):
        Polygon((223.3783793449, 538.8075751066), (183.3783793449, 538.8075751066), (223.3783793449, 498.8075751066), align=None)
    extrude(amount=-F41_DEPTH, mode=Mode.SUBTRACT)


with BuildPart() as f43:
    # F42 (on face) → F43 (new body)
    with BuildSketch(Plane.YZ.offset(223.3783793449)):
        with BuildLine():
            ThreePointArc((498.8075751066, 5), (500.2720412007, 1.4644660941), (503.8075751066, 0))
            Line((503.8075751066, 0), (533.8075751066, 0))
            ThreePointArc((533.8075751066, 0), (537.3431090126, 1.4644660941), (538.8075751066, 5))
            Line((538.8075751066, 5), (538.8075751066, 35))
            ThreePointArc((538.8075751066, 35), (537.3431090126, 38.5355339059), (533.8075751066, 40))
            Line((533.8075751066, 40), (503.8075751066, 40))
            ThreePointArc((503.8075751066, 40), (500.2720412007, 38.5355339059), (498.8075751066, 35))
            Line((498.8075751066, 35), (498.8075751066, 5))
        make_face()
        with BuildLine():
            ThreePointArc((501.3075751066, 35), (502.0398081537, 36.767766953), (503.8075751066, 37.5))
            Line((503.8075751066, 37.5), (533.8075751066, 37.5))
            ThreePointArc((533.8075751066, 37.5), (535.5753420596, 36.767766953), (536.3075751066, 35))
            Line((536.3075751066, 35), (536.3075751066, 5))
            ThreePointArc((536.3075751066, 5), (535.5753420596, 3.232233047), (533.8075751066, 2.5))
            Line((533.8075751066, 2.5), (503.8075751066, 2.5))
            ThreePointArc((503.8075751066, 2.5), (502.0398081537, 3.232233047), (501.3075751066, 5))
            Line((501.3075751066, 5), (501.3075751066, 35))
        make_face(mode=Mode.SUBTRACT)
    extrude(amount=F43_DEPTH)

    # F44 (on face) → F45 (cut, through all)
    with BuildSketch(Plane.XY.offset(40)):
        Polygon((263.3783793449, 498.8075751066), (223.3783793449, 538.8075751066), (223.3783793449, 498.8075751066), align=None)
        Polygon((753.3783793449, 498.8075751066), (753.3783793449, 538.8075751066), (713.3783793449, 498.8075751066), align=None)
    extrude(amount=-F45_DEPTH, mode=Mode.SUBTRACT)


with BuildPart() as f47:
    # F46 (on face) → F47 (new body)
    with BuildSketch(Plane.XZ.offset(-498.8075751066)):
        with BuildLine():
            ThreePointArc((713.3783793449, 5), (714.842845439, 1.4644660941), (718.3783793449, 0))
            Line((718.3783793449, 0), (748.3783793449, 0))
            ThreePointArc((748.3783793449, 0), (751.9139132509, 1.4644660941), (753.3783793449, 5))
            Line((753.3783793449, 5), (753.3783793449, 35))
            ThreePointArc((753.3783793449, 35), (751.9139132509, 38.5355339059), (748.3783793449, 40))
            Line((748.3783793449, 40), (718.3783793449, 40))
            ThreePointArc((718.3783793449, 40), (714.842845439, 38.5355339059), (713.3783793449, 35))
            Line((713.3783793449, 35), (713.3783793449, 5))
        make_face()
        with BuildLine():
            ThreePointArc((715.8783793449, 35), (716.610612392, 36.767766953), (718.3783793449, 37.5))
            Line((718.3783793449, 37.5), (748.3783793449, 37.5))
            ThreePointArc((748.3783793449, 37.5), (750.1461462979, 36.767766953), (750.8783793449, 35))
            Line((750.8783793449, 35), (750.8783793449, 5))
            ThreePointArc((750.8783793449, 5), (750.1461462979, 3.232233047), (748.3783793449, 2.5))
            Line((748.3783793449, 2.5), (718.3783793449, 2.5))
            ThreePointArc((718.3783793449, 2.5), (716.610612392, 3.232233047), (715.8783793449, 5))
            Line((715.8783793449, 5), (715.8783793449, 35))
        make_face(mode=Mode.SUBTRACT)
    extrude(amount=F47_DEPTH)

    # F48 (on face) → F49 (cut, through all)
    with BuildSketch(Plane.XY.offset(40)):
        Polygon((713.3783793449, 458.8075751066), (753.3783793449, 498.8075751066), (713.3783793449, 498.8075751066), align=None)
    extrude(amount=-F49_DEPTH, mode=Mode.SUBTRACT)


with BuildPart() as f52:
    # F51 (on offset) → F52 (new body)
    with BuildSketch(Plane.XZ.offset(26.1924248934)):
        with BuildLine():
            Line((748.3783793449, 37.5), (718.3783793449, 37.5))
            ThreePointArc((718.3783793449, 37.5), (716.610612392, 36.767766953), (715.8783793449, 35))
            Line((715.8783793449, 35), (715.8783793449, 5))
            ThreePointArc((715.8783793449, 5), (716.610612392, 3.232233047), (718.3783793449, 2.5))
            Line((718.3783793449, 2.5), (748.3783793449, 2.5))
            ThreePointArc((748.3783793449, 2.5), (750.1461462979, 3.232233047), (750.8783793449, 5))
            Line((750.8783793449, 5), (750.8783793449, 35))
            ThreePointArc((750.8783793449, 35), (750.1461462979, 36.767766953), (748.3783793449, 37.5))
        make_face()
    extrude(amount=F52_DEPTH)


solid = Compound([f14_1.part, f20.part, f24.part, f37.part, f43.part, f47.part, f52.part])
